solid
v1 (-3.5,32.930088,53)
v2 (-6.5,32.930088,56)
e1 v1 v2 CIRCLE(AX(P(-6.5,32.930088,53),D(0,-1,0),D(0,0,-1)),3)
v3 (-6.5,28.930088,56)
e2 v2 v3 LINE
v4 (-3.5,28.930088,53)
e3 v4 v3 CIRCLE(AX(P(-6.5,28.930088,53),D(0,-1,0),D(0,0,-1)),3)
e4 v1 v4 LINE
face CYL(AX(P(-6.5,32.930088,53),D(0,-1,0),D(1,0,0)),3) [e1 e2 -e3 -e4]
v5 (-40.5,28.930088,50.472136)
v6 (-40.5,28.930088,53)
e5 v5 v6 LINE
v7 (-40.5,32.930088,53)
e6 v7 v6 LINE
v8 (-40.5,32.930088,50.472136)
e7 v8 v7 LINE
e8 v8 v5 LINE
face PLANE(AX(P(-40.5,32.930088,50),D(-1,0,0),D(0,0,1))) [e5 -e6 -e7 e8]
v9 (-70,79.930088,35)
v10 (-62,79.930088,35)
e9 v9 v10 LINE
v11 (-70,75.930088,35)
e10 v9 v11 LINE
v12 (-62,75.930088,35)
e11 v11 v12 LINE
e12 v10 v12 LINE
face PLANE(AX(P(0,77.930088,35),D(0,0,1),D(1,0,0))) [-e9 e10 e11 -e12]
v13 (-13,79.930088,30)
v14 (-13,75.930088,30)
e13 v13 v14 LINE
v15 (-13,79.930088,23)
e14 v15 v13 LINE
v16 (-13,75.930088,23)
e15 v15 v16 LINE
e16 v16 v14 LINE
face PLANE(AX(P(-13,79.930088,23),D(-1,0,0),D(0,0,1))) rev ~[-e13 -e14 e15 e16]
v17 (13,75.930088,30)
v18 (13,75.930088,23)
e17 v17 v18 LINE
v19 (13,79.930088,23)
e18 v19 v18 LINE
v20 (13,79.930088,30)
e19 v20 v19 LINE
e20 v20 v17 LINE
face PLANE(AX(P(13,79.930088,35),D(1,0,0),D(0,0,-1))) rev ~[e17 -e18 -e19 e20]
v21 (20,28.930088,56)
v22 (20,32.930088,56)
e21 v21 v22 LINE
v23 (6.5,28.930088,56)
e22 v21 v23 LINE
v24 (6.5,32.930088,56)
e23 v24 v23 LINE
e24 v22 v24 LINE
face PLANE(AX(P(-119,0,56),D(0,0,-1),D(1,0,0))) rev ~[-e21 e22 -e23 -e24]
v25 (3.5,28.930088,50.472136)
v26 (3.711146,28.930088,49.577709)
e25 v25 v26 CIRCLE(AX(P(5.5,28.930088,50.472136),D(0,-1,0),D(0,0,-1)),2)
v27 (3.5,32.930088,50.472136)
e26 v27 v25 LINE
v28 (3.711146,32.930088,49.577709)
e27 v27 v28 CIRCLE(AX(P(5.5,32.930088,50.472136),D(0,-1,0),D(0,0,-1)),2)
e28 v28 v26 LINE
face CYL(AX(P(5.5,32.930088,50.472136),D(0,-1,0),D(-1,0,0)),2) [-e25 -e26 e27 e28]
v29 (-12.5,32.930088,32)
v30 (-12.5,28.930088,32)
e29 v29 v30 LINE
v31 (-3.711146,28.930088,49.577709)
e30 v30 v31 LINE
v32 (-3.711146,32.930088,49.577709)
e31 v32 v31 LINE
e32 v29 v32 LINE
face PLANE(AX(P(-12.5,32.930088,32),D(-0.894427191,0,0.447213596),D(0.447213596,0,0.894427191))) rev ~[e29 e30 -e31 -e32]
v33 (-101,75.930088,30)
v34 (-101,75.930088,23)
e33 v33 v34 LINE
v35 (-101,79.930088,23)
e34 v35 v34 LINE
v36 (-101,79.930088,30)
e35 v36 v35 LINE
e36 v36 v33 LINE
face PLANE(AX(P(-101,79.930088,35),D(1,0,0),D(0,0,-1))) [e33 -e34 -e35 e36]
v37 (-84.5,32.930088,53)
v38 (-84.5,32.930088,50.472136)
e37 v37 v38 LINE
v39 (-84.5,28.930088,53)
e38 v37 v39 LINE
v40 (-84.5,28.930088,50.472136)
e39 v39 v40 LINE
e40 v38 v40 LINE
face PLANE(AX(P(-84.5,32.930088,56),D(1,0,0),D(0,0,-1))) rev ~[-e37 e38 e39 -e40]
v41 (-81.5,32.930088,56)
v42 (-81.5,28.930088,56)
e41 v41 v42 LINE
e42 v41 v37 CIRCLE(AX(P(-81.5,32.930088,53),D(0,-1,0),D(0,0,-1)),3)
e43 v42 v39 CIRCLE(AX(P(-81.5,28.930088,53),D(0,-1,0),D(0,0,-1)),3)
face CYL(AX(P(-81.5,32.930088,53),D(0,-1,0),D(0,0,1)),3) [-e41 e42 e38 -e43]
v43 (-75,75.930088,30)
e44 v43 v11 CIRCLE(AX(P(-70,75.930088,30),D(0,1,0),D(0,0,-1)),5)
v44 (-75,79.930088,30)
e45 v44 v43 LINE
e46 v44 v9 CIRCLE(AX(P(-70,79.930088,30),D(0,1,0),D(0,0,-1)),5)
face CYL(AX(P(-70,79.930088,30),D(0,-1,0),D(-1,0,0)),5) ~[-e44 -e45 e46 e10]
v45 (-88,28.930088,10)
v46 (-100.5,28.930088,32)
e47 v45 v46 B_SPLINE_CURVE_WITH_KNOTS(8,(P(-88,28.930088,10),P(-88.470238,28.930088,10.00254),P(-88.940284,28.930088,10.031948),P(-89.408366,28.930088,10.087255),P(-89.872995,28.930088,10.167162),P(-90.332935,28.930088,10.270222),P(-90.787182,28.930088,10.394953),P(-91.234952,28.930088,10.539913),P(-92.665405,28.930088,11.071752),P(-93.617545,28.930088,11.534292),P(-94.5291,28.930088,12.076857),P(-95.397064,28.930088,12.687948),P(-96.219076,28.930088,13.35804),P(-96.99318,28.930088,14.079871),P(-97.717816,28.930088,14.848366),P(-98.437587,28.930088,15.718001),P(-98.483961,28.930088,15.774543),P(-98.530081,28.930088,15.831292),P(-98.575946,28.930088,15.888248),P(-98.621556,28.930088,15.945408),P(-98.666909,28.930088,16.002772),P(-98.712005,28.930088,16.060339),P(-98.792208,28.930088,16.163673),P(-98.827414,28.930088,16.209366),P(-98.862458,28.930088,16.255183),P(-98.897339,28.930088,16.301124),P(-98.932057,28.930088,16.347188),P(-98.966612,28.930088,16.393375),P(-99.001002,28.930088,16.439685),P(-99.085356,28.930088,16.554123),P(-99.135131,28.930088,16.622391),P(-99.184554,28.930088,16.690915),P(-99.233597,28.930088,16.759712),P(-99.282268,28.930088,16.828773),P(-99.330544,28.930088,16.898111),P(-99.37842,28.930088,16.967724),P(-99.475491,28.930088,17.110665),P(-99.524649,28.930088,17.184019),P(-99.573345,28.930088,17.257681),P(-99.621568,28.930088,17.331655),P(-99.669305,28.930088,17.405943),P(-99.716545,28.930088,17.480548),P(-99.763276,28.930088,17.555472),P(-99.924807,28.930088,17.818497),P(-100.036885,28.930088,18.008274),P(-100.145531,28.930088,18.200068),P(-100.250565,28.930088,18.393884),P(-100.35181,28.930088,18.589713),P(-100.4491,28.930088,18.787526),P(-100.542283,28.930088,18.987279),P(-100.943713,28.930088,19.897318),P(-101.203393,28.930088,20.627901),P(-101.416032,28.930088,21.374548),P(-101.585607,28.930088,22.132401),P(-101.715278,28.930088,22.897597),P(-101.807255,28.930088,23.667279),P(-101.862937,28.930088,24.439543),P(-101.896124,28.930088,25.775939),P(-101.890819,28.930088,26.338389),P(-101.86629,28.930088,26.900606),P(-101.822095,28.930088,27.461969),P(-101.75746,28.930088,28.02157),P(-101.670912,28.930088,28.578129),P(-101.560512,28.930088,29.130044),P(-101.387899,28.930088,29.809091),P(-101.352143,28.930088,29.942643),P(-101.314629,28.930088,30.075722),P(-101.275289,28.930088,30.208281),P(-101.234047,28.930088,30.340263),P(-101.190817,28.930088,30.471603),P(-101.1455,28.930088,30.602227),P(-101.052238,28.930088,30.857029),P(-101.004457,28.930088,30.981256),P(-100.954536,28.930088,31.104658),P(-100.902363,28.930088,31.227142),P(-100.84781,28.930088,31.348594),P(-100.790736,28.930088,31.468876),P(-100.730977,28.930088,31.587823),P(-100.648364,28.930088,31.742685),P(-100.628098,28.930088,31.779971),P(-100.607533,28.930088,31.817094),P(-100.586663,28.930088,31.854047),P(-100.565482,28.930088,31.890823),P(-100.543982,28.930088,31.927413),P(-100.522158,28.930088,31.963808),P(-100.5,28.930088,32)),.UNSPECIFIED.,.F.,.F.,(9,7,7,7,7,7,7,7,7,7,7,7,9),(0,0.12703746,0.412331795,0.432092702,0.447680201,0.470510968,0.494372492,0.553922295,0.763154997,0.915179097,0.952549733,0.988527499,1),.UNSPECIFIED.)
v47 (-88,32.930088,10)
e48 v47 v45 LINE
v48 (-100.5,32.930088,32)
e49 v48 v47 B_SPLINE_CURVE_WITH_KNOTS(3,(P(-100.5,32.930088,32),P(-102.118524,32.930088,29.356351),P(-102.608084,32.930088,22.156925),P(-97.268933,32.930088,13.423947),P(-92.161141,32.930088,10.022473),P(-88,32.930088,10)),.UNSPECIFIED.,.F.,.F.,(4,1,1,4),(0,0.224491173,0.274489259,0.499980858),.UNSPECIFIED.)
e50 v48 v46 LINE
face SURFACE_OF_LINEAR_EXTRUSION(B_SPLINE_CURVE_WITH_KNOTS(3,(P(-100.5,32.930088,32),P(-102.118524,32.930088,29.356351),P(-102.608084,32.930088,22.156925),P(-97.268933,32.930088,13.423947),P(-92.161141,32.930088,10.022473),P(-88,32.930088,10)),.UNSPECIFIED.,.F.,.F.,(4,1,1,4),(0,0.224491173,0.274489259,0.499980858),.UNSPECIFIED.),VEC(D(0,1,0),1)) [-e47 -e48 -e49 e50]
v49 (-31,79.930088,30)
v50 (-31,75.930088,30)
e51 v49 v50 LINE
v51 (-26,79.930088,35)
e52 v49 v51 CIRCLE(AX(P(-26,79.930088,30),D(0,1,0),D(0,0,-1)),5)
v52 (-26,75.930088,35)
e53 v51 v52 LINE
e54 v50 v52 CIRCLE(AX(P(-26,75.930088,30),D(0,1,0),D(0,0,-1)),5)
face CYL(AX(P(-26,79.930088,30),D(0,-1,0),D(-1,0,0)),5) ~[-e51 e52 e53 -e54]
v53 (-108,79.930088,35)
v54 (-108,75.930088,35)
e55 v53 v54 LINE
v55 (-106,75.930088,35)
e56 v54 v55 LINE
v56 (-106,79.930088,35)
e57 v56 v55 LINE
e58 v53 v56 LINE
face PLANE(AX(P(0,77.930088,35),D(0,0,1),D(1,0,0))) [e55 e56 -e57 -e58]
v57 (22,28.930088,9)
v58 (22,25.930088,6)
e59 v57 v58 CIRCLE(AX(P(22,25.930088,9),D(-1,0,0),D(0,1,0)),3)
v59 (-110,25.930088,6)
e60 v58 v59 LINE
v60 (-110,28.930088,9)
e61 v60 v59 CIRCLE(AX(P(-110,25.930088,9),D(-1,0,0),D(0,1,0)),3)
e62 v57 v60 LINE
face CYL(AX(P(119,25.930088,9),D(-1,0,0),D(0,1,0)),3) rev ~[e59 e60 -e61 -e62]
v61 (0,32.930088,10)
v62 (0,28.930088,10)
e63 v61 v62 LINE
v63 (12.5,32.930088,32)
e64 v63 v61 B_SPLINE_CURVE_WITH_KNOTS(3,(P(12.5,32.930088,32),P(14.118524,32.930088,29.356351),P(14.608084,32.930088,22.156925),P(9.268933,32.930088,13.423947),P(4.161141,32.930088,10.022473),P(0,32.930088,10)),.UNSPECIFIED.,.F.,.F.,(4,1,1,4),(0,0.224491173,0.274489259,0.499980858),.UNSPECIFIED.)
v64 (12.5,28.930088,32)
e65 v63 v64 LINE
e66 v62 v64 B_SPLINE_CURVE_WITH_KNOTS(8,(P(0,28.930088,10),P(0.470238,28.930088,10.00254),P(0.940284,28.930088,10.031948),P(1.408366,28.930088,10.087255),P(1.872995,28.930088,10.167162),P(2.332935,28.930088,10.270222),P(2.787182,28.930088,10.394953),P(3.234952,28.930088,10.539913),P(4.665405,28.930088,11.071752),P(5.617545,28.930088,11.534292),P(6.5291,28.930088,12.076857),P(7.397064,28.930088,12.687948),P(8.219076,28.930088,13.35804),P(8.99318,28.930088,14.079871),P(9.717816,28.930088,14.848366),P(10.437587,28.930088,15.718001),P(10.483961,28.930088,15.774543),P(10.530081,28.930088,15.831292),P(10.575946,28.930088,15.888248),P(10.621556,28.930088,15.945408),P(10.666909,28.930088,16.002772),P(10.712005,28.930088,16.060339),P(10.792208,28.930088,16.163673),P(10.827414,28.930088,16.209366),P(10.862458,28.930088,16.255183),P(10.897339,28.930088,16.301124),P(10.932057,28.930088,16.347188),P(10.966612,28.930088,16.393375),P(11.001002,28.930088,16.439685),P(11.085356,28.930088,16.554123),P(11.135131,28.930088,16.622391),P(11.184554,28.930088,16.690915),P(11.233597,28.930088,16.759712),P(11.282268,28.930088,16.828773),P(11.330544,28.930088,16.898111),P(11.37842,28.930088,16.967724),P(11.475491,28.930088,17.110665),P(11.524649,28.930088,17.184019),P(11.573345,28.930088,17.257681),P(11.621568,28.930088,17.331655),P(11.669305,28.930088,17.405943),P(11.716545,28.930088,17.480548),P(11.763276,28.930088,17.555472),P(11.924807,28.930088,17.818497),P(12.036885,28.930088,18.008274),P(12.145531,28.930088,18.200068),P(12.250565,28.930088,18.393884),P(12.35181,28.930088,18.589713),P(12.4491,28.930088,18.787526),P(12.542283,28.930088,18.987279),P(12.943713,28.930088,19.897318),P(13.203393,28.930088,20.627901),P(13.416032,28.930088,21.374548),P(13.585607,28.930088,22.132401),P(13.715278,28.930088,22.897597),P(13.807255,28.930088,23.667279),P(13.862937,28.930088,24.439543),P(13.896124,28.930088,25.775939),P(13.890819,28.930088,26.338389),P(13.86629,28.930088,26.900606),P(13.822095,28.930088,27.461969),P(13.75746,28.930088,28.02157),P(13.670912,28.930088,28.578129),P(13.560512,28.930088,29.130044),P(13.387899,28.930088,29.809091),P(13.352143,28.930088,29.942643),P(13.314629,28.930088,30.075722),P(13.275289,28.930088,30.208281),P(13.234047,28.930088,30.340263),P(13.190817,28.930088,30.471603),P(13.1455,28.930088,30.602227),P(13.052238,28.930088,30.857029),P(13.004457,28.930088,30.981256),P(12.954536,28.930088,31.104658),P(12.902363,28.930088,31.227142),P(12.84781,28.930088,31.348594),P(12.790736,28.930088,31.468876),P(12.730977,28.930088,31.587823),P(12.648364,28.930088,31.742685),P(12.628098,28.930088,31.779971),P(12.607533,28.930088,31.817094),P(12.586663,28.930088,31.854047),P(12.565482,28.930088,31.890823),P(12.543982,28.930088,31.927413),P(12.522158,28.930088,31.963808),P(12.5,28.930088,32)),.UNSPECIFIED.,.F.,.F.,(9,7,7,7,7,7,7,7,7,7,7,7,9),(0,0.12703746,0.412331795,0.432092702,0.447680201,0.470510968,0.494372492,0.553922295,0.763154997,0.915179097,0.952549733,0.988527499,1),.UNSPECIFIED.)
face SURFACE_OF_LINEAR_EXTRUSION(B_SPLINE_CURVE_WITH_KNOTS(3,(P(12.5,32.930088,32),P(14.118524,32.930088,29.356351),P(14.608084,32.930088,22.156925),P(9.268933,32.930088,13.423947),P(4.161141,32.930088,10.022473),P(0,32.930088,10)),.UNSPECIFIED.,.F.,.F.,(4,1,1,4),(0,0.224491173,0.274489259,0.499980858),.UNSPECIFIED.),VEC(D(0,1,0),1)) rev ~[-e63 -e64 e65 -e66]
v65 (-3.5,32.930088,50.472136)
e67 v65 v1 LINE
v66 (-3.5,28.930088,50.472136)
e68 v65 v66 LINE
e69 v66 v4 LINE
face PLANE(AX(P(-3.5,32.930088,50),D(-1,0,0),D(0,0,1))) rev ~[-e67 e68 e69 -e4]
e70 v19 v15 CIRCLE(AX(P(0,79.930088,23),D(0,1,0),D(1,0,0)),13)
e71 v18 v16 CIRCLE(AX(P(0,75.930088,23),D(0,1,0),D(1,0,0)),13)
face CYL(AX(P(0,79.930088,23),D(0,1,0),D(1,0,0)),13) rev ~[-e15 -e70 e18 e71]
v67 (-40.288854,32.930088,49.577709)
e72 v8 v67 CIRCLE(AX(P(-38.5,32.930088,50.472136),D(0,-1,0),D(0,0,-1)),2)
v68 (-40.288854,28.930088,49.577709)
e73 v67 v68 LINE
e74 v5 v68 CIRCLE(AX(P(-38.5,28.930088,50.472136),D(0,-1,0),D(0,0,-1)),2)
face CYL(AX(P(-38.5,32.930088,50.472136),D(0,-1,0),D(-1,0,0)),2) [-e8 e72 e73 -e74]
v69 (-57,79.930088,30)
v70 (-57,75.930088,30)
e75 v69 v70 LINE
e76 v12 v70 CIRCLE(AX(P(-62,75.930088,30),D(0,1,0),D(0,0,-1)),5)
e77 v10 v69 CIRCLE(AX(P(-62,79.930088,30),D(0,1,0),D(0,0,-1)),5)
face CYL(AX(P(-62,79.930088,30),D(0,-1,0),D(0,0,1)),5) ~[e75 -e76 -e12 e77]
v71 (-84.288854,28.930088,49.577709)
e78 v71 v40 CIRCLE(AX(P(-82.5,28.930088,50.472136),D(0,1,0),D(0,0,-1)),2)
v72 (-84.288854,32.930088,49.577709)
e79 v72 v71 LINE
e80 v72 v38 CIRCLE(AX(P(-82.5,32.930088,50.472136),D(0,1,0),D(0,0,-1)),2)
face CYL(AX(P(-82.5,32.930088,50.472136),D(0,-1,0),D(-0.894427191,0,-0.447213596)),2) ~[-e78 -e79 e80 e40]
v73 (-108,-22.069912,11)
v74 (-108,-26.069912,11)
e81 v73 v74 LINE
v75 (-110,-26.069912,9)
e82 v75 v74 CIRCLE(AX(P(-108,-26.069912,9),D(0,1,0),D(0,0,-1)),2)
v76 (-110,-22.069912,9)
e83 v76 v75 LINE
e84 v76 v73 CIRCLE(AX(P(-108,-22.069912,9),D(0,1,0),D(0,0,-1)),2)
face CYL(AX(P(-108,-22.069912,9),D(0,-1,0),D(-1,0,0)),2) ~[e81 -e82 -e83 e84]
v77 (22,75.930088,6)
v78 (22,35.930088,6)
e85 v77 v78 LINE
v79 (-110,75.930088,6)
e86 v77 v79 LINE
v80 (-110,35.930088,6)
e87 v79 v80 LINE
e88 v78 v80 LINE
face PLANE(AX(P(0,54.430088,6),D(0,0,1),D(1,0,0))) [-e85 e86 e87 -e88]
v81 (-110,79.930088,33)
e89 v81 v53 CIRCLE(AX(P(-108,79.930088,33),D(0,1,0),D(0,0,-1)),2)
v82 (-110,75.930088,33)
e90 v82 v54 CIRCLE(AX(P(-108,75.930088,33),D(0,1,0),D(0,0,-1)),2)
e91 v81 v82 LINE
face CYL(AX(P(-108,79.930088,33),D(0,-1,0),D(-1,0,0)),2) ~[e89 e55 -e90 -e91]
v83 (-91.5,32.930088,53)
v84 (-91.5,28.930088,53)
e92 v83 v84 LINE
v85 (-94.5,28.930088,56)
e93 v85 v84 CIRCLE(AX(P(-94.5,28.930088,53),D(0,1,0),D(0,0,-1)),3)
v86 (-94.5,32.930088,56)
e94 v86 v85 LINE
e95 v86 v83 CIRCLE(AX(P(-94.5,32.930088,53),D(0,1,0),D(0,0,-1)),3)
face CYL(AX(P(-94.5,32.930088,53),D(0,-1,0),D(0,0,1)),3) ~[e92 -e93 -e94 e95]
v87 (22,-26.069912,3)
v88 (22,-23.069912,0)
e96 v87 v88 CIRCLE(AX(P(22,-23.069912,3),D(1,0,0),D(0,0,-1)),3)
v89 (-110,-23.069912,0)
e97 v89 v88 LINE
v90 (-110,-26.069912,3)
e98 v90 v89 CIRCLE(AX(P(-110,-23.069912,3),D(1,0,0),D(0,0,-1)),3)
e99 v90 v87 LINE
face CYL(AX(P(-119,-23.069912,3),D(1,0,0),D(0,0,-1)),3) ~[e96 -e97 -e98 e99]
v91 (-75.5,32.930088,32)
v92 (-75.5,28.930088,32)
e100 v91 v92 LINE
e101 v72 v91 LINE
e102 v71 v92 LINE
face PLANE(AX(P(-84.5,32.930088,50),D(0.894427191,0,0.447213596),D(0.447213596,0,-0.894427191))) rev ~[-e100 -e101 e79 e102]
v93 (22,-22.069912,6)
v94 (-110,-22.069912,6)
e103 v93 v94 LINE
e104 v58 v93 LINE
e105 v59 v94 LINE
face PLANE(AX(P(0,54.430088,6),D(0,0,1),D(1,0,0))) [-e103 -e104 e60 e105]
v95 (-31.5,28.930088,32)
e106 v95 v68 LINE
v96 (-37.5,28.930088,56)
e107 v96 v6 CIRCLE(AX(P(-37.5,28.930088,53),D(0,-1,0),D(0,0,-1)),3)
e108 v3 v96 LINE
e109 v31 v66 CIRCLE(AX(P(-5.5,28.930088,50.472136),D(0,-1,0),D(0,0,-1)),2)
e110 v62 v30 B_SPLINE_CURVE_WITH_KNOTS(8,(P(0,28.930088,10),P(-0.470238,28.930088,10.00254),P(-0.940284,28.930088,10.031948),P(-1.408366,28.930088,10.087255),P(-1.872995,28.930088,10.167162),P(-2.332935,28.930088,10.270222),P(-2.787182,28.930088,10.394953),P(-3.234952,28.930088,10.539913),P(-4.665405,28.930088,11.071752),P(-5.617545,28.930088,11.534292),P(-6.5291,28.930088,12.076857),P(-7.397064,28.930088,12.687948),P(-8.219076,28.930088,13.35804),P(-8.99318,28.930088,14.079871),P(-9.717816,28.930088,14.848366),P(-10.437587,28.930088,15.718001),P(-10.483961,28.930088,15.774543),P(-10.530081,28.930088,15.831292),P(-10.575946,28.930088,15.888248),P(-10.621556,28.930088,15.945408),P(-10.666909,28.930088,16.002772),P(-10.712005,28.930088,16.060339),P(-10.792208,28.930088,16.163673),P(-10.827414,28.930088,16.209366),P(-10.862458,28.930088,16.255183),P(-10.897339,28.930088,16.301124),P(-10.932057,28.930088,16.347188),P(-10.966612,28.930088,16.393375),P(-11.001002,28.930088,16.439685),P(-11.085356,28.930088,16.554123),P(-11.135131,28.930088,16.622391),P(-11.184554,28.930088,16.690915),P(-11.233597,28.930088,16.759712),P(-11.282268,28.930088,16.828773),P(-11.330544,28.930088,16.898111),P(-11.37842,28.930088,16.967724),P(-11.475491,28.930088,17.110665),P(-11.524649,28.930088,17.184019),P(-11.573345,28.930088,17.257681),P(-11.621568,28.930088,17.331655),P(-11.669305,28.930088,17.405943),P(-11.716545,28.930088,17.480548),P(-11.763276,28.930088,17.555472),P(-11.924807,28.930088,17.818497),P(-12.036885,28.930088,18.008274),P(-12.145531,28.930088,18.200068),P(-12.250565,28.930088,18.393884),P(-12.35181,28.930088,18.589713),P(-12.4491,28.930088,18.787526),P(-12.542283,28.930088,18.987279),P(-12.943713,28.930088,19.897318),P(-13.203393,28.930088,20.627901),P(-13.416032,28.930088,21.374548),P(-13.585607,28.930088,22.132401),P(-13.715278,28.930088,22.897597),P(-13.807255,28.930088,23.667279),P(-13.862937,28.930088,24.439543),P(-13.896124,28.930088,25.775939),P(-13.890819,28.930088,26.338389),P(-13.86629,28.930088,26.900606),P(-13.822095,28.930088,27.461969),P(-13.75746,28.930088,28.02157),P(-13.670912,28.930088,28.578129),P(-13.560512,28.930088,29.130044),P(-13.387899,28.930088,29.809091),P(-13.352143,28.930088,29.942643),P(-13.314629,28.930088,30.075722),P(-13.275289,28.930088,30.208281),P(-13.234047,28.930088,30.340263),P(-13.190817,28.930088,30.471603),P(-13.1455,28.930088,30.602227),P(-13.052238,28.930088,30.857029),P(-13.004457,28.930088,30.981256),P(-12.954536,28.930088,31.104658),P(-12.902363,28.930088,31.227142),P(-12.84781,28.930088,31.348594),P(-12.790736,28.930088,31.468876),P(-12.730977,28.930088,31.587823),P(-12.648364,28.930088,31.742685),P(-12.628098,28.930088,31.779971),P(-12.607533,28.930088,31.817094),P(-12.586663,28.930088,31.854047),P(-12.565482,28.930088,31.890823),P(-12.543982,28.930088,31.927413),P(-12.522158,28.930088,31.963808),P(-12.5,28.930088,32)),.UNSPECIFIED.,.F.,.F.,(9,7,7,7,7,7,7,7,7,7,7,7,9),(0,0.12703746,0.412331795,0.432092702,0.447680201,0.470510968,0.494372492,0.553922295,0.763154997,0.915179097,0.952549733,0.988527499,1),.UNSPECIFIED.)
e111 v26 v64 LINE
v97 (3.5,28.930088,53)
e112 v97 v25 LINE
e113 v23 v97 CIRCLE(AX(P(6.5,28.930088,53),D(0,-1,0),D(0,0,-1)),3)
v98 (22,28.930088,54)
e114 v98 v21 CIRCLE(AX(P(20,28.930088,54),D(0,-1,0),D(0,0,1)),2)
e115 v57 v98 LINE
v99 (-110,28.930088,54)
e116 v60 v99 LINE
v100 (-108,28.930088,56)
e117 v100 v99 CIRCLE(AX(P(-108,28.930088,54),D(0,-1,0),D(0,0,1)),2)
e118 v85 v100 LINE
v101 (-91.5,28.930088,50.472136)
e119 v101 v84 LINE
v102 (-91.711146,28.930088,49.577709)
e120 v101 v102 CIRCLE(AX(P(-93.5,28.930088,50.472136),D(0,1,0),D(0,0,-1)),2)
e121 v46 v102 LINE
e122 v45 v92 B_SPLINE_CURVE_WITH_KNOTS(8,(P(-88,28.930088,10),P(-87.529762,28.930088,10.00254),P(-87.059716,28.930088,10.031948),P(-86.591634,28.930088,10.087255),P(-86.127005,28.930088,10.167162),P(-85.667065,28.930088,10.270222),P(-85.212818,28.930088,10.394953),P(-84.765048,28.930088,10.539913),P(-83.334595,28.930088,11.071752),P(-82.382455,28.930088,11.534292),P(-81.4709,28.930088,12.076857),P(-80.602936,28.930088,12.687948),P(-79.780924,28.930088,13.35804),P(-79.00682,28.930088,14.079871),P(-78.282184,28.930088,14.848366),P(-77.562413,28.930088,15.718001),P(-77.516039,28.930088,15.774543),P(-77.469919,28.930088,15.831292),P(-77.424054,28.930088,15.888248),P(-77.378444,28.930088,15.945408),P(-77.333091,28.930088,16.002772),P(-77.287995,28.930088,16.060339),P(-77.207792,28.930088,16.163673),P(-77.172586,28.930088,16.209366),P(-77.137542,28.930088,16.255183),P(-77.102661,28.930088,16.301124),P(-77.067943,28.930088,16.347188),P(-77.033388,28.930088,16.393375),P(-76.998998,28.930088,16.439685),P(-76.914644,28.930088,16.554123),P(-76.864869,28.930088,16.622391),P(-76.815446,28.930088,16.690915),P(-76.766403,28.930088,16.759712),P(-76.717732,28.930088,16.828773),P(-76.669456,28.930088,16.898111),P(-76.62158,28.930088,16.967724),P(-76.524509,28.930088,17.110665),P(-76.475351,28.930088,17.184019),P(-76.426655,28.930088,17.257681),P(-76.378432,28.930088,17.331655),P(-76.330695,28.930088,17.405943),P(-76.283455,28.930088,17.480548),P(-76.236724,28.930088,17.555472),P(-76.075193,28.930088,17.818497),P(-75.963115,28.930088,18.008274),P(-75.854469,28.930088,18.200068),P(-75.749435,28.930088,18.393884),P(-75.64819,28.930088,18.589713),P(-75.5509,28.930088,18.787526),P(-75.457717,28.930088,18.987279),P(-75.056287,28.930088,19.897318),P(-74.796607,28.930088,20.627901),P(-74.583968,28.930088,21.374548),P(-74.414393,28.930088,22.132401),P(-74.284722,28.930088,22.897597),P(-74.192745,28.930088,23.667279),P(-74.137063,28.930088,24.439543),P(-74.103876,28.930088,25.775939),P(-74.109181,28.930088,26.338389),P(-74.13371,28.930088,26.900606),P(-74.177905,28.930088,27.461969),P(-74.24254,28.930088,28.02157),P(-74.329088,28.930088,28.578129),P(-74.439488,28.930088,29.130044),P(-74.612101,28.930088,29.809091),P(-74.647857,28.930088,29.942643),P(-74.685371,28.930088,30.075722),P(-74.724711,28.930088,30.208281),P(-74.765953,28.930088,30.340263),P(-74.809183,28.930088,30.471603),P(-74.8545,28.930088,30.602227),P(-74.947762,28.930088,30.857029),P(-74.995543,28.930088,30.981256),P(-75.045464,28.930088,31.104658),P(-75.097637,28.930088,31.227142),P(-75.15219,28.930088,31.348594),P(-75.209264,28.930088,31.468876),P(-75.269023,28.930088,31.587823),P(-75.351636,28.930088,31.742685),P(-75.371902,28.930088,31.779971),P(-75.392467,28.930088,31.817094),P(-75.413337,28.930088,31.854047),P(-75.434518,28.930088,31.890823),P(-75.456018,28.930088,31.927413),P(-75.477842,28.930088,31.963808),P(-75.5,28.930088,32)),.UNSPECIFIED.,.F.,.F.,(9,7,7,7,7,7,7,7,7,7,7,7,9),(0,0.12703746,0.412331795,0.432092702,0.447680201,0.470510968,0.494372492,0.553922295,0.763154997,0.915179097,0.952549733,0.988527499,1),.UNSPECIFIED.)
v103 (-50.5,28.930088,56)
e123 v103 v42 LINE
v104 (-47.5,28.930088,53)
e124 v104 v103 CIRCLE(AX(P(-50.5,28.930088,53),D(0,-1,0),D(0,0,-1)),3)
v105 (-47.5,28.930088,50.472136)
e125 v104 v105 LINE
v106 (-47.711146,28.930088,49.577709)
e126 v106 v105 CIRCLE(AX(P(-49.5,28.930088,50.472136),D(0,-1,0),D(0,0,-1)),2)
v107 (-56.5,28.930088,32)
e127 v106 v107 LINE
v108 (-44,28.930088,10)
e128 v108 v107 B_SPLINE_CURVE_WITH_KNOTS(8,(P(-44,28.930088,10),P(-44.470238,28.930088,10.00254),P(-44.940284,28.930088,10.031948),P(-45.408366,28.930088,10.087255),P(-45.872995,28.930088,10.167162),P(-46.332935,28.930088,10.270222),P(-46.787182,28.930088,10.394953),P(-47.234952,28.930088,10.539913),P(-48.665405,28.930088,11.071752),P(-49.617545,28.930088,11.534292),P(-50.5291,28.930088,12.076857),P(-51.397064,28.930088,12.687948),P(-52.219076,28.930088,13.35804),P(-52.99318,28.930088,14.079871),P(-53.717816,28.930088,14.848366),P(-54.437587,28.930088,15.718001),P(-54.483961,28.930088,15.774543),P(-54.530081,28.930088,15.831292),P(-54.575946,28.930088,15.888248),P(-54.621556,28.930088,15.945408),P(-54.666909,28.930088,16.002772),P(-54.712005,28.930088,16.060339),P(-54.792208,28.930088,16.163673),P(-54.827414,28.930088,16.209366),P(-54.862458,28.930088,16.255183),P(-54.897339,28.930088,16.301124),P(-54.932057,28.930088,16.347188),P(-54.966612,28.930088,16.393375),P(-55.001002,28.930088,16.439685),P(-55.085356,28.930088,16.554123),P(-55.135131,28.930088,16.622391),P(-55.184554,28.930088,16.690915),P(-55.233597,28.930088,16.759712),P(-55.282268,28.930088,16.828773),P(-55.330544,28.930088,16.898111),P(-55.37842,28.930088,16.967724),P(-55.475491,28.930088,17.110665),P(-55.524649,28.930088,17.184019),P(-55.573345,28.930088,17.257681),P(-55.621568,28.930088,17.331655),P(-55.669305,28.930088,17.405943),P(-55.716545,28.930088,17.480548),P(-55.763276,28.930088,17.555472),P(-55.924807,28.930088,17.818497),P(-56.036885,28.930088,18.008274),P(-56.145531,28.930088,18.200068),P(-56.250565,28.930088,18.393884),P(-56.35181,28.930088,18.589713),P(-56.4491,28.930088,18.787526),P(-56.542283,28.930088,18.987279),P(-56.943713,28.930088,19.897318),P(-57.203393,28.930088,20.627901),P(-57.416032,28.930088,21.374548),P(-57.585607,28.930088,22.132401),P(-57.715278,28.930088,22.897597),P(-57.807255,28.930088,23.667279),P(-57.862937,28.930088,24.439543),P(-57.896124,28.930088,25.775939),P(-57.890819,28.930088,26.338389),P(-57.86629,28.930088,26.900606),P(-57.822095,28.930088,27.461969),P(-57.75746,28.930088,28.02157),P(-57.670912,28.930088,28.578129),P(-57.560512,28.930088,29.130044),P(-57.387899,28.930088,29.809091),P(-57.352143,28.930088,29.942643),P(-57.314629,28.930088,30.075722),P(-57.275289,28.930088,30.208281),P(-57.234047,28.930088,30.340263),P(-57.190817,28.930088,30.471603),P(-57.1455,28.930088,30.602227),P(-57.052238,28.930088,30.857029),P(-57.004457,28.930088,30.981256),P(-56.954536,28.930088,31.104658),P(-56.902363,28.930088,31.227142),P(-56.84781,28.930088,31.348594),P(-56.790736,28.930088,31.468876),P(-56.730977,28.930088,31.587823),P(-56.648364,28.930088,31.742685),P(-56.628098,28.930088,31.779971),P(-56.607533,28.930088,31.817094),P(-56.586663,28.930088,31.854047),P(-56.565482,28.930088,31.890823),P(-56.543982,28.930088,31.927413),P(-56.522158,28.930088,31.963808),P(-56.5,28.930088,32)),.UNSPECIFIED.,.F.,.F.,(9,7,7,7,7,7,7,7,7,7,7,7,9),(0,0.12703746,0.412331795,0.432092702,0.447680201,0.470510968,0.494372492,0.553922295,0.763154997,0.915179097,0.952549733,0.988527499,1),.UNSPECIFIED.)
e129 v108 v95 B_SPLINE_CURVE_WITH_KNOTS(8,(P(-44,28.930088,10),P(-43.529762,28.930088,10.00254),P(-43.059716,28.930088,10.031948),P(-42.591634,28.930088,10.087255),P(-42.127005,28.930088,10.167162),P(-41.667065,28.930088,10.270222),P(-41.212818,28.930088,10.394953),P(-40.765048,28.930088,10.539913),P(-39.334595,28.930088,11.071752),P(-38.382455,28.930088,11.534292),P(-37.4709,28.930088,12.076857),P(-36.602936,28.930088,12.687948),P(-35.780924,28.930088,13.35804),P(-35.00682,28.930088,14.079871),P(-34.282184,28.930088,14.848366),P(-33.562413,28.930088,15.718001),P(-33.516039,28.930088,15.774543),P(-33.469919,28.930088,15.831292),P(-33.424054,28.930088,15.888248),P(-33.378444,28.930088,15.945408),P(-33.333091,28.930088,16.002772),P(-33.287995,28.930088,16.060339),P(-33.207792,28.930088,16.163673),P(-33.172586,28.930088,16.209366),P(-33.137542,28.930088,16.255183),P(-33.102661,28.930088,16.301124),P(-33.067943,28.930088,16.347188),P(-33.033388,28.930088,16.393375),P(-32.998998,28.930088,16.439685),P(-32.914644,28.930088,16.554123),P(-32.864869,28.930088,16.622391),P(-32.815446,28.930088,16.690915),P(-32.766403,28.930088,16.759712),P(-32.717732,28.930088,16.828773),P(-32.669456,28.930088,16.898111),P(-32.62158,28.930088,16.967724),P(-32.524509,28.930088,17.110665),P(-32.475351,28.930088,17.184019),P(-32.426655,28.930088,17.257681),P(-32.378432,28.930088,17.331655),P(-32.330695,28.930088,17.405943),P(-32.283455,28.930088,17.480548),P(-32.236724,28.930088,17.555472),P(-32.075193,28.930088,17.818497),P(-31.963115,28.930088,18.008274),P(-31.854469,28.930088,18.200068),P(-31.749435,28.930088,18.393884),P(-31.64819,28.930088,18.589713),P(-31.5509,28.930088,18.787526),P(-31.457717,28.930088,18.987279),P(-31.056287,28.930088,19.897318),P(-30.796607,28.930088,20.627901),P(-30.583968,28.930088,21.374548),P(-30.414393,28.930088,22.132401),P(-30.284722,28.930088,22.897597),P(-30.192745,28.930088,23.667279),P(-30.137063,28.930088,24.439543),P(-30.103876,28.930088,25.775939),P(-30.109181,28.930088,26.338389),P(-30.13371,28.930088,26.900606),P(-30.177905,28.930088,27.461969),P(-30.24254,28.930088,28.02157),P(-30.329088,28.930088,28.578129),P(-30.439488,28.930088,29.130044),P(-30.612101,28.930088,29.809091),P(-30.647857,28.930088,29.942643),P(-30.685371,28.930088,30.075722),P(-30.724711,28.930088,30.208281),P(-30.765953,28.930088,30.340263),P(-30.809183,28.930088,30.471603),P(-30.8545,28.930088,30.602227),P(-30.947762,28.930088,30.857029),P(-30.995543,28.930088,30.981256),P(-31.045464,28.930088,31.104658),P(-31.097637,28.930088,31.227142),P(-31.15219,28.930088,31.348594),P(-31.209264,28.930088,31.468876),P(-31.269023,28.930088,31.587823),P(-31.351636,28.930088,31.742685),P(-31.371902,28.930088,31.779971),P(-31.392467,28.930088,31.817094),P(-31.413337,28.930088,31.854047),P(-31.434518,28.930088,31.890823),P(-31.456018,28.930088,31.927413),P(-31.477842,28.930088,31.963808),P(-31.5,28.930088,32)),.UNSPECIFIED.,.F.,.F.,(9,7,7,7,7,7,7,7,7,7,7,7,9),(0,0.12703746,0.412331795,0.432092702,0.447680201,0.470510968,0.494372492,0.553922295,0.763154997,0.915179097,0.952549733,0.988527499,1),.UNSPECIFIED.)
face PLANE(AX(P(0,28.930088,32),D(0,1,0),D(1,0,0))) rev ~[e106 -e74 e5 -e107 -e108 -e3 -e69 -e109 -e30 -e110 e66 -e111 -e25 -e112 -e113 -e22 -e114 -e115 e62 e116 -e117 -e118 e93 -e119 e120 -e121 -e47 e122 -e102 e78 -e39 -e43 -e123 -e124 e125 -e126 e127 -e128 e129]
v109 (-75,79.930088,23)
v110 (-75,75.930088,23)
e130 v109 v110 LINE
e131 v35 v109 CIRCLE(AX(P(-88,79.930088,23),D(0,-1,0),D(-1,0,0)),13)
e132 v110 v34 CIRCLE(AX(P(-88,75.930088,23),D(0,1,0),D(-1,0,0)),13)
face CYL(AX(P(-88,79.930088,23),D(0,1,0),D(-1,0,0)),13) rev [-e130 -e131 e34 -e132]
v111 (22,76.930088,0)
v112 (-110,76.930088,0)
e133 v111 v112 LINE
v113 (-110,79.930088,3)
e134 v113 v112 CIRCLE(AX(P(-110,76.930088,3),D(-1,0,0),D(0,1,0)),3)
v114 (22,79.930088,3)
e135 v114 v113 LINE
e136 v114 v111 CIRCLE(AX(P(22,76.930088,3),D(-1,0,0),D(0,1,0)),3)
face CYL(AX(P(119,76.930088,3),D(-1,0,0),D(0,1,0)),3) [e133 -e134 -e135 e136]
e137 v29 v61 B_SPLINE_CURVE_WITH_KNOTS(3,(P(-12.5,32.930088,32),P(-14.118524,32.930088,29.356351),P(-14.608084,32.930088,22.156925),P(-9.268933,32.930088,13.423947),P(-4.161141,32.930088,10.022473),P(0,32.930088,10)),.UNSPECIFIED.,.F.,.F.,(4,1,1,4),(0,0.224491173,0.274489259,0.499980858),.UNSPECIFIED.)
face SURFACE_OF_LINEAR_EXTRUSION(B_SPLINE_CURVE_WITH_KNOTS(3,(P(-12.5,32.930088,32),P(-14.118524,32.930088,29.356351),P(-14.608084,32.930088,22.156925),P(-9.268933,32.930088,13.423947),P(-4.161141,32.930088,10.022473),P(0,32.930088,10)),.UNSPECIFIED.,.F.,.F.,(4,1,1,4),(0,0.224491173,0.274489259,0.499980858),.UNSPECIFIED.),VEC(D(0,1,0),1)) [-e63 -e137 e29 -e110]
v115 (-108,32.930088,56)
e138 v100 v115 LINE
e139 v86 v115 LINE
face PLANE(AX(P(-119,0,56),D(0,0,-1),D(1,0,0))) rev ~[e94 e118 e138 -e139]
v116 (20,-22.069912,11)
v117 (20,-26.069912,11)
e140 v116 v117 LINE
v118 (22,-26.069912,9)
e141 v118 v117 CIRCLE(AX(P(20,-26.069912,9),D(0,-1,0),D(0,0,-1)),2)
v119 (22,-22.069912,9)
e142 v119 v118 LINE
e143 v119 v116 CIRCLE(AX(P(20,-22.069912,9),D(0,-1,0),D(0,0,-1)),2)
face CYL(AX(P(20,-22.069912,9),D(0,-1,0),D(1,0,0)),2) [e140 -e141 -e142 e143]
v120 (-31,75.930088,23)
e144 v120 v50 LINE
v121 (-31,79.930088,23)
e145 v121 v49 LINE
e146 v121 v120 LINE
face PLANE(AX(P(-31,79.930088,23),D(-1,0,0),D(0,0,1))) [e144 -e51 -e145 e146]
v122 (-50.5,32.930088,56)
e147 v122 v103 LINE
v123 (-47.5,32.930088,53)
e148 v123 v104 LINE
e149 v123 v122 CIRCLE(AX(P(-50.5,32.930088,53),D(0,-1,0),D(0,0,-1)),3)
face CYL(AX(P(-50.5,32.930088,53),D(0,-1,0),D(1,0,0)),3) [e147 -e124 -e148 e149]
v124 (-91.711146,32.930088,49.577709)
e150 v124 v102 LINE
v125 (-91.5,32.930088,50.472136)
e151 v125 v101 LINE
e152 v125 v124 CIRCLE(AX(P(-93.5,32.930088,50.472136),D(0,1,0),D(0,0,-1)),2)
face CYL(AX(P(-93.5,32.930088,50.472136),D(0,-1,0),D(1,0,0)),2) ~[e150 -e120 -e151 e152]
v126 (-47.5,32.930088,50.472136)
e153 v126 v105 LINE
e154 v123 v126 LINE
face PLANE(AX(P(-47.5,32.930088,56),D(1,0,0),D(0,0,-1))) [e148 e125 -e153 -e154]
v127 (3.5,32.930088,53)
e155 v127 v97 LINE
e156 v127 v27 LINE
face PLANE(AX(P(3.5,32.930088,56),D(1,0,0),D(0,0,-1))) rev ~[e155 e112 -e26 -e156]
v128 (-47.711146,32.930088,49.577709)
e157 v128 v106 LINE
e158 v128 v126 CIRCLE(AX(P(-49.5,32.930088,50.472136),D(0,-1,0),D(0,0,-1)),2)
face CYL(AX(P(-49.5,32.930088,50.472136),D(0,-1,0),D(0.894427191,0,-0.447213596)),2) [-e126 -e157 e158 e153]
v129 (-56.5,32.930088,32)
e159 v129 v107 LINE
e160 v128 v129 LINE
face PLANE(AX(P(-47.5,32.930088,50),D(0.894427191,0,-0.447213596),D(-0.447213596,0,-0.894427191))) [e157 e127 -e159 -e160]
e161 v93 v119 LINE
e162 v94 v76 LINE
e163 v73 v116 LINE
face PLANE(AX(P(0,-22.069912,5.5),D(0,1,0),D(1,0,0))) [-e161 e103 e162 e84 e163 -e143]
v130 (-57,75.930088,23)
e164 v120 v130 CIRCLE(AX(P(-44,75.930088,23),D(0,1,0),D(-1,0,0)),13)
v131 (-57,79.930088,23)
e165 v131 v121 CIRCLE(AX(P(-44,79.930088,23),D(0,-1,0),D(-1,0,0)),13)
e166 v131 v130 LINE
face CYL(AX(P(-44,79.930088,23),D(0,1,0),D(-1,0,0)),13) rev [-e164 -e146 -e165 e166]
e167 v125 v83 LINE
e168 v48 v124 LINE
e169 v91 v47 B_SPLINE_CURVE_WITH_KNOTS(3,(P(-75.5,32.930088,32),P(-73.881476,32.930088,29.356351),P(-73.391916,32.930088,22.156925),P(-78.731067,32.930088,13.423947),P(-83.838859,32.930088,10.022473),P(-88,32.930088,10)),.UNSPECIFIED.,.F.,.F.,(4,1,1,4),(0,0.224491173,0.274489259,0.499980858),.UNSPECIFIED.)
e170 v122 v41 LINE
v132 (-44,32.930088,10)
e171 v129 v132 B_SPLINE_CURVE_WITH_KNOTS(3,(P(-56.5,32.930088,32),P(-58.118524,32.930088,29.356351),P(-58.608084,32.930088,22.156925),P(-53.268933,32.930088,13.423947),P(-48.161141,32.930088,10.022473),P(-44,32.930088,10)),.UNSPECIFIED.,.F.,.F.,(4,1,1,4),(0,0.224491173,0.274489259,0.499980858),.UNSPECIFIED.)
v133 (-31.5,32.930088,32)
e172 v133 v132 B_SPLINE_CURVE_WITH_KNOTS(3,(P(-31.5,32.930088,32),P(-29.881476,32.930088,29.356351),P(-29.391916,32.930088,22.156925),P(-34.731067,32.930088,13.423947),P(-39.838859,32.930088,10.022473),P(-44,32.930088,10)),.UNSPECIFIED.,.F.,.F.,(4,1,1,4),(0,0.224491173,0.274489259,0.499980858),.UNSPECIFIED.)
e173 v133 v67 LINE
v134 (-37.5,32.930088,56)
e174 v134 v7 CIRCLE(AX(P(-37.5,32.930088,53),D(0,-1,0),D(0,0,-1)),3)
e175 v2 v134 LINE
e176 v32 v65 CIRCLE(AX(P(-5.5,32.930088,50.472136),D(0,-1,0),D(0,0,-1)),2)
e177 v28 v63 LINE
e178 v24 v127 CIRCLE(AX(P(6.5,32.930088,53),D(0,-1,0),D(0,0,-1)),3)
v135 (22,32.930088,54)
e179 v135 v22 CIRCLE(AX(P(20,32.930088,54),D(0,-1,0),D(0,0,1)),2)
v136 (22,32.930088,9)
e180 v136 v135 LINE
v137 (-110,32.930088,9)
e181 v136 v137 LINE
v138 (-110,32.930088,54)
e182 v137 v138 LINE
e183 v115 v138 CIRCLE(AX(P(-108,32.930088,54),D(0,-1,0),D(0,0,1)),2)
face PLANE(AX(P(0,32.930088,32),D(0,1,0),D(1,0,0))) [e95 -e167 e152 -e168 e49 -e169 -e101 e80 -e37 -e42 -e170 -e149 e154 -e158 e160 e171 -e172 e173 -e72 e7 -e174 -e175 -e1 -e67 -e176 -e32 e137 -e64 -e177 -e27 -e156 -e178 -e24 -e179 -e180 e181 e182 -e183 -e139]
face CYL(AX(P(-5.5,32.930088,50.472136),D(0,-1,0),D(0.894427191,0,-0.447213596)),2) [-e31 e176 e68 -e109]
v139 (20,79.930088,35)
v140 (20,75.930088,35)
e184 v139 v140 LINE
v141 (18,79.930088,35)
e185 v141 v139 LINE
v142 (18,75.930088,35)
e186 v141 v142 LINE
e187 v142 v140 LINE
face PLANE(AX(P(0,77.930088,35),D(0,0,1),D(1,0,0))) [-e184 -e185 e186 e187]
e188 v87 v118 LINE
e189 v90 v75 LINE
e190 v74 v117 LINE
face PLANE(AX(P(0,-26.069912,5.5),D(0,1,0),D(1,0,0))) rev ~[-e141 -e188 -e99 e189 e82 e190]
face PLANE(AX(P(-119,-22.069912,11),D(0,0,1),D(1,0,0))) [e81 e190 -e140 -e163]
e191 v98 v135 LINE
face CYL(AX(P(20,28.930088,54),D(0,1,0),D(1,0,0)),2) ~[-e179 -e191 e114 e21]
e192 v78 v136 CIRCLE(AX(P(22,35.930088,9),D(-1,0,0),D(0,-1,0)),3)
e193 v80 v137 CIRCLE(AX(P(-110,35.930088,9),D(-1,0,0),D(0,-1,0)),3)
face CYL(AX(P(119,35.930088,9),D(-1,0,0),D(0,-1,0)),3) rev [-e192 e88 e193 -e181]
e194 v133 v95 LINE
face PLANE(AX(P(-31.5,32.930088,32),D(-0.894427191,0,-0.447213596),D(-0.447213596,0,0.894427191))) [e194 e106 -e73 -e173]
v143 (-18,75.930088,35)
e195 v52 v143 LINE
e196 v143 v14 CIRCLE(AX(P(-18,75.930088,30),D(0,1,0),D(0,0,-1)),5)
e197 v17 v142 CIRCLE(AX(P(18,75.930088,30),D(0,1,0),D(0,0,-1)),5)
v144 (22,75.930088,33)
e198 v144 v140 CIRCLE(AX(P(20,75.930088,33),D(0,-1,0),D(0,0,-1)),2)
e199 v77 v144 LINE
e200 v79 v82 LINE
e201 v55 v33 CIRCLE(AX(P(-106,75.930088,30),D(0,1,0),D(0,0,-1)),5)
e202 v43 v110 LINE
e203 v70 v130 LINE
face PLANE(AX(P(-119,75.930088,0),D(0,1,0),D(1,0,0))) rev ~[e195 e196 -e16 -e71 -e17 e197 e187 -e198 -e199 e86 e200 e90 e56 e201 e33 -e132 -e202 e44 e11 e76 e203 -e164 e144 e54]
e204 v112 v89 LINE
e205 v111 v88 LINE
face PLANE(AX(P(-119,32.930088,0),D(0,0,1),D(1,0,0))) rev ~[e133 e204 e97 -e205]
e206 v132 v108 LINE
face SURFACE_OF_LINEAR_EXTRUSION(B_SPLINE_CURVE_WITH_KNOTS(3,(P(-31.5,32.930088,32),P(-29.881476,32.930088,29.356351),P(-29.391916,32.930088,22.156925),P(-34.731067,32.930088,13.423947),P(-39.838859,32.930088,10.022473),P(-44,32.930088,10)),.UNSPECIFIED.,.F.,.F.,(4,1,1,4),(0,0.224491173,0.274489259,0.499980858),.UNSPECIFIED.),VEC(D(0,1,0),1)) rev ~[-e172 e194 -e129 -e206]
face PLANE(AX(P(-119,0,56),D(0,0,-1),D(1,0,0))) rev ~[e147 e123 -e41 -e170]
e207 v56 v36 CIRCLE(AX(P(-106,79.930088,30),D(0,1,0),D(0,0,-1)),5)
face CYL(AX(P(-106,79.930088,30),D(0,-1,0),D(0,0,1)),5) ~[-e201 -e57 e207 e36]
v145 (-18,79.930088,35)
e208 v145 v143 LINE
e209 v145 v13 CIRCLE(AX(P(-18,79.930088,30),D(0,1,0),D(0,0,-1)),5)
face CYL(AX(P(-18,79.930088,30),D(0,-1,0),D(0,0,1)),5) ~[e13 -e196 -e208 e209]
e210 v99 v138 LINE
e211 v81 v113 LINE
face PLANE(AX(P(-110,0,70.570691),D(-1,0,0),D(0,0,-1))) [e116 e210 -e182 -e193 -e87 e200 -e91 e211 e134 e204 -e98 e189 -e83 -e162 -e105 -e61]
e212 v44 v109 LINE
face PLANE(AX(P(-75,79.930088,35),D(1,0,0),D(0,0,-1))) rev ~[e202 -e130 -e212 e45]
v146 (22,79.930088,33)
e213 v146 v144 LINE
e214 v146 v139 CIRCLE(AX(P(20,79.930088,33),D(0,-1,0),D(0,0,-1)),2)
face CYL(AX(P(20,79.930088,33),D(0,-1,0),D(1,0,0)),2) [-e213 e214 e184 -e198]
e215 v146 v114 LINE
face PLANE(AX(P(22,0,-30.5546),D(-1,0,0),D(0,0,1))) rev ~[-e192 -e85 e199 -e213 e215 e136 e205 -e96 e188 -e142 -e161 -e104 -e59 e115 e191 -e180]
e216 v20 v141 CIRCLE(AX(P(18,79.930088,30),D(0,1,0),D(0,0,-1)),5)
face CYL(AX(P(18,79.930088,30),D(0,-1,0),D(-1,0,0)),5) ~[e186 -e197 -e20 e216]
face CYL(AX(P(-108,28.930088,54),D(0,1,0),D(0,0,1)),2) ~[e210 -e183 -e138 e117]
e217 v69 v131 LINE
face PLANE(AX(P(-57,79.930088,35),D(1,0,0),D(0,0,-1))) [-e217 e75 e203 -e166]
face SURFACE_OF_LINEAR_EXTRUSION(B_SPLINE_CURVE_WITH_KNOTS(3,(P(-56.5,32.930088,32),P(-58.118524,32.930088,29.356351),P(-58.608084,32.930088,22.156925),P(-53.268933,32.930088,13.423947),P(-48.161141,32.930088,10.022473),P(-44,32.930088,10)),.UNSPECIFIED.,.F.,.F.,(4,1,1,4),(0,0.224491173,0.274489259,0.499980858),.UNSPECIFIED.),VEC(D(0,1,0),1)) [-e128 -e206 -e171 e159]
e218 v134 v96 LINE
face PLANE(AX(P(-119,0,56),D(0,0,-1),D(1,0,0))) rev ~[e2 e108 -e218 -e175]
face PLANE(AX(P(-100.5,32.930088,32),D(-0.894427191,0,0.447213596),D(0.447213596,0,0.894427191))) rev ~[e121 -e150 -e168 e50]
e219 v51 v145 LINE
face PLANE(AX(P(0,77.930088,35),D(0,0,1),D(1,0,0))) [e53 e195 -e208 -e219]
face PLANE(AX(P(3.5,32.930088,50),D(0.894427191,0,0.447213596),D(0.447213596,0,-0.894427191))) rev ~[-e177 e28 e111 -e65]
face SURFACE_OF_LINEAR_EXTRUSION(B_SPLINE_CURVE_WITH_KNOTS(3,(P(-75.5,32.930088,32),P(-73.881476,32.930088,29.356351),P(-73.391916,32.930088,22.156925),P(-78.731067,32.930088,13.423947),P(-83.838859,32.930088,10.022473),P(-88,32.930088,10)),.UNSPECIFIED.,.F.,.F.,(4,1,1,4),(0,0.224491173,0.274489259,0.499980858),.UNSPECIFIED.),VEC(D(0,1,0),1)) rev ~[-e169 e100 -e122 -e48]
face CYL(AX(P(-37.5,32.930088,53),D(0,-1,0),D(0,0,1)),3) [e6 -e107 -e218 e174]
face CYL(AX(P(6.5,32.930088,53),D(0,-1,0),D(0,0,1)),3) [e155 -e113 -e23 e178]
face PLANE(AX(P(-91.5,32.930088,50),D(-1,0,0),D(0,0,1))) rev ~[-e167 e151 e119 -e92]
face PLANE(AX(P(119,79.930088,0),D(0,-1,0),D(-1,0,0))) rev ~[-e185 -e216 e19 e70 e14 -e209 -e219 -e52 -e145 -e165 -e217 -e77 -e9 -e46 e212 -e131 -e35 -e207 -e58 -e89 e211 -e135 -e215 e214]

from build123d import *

# Parameters (mm, degrees)
SKETCH1_W           = 238
SKETCH1_H           = 43
SKETCH1_H_2         = 4
SKETCH1_H_3         = 51
BOSS_EXTRUDE1_DEPTH = 6
SKETCH2_W           = 238
SKETCH2_H           = 4
BOSS_EXTRUDE2_DEPTH = 35
SKETCH3_W           = 26
SKETCH3_H           = 12
CUT_EXTRUDE1_DEPTH  = 6
FILLET1_R           = 5
SKETCH4_W           = 238
SKETCH4_H           = 64
BOSS_EXTRUDE3_DEPTH = 4
SKETCH6_W           = 238
SKETCH6_H           = 11
BOSS_EXTRUDE4_DEPTH = 4
CUT_EXTRUDE2_DEPTH  = 10
SKETCH8_W           = 238
SKETCH8_H           = 8
CUT_EXTRUDE3_DEPTH  = 60
FILLET2_R           = 3
FILLET3_R           = 2
FILLET4_R           = 3
CUT_EXTRUDE4_DEPTH  = 150
FILLET5_R           = 2


with BuildPart() as part:
    # Sketch1 → Boss-Extrude1 (new body)
    with BuildSketch(Plane.XY):
        with Locations((0, 54.430088496)):
            Rectangle(SKETCH1_W, SKETCH1_H)
        Polygon((-119, 79.930088496), (-119, 75.930088496), (119, 75.930088496), (119, 79.930088496), (101, 79.930088496), (75, 79.930088496), (57.077876106, 79.930088496), (57, 79.930088496), (31, 79.930088496), (13, 79.930088496), (-13, 79.930088496), (-31, 79.930088496), (-57, 79.930088496), (-75, 79.930088496), (-101, 79.930088496), align=None)
        with Locations((0, 30.930088496)):
            Rectangle(SKETCH1_W, SKETCH1_H_2)
        with Locations((0, 3.430088496)):
            Rectangle(SKETCH1_W, SKETCH1_H_3)
        with Locations((0, -24.069911504)):
            Rectangle(SKETCH1_W, SKETCH1_H_2)
    extrude(amount=BOSS_EXTRUDE1_DEPTH)

    # Sketch2 → Boss-Extrude2 (add)
    with BuildSketch(Plane.XY):
        with Locations((0, 77.930088496)):
            Rectangle(SKETCH2_W, SKETCH2_H)
    extrude(amount=BOSS_EXTRUDE2_DEPTH)

    # Sketch3 → Cut-Extrude1 (cut)
    with BuildSketch(Plane(origin=(0, 79.930088496, 0), x_dir=(1, 0, 0), z_dir=(0, 1, 0))):
        with BuildLine():
            ThreePointArc((-101, -23), (-88, -10), (-75, -23))
            Line((-75, -23), (-101, -23))
        make_face()
        with Locations((-88, -29)):
            Rectangle(SKETCH3_W, SKETCH3_H)
        with BuildLine():
            ThreePointArc((-57, -23), (-44, -10), (-31, -23))
            Line((-31, -23), (-31, -35))
            Line((-31, -35), (-57, -35))
            Line((-57, -35), (-57, -23))
        make_face()
        with BuildLine():
            Line((13, -35), (13, -23))
            ThreePointArc((13, -23), (0, -10), (-13, -23))
            Line((-13, -23), (-13, -35))
            Line((-13, -35), (13, -35))
        make_face()
        with BuildLine():
            Line((57, -35), (57, -23))
            ThreePointArc((57, -23), (44, -10), (31, -23))
            Line((31, -23), (31, -35))
            Line((31, -35), (57, -35))
        make_face()
        with BuildLine():
            Line((101, -35), (101, -23))
            ThreePointArc((101, -23), (88, -10), (75, -23))
            Line((75, -23), (75, -35))
            Line((75, -35), (101, -35))
        make_face()
    extrude(amount=-CUT_EXTRUDE1_DEPTH, mode=Mode.SUBTRACT)

    # Fillet1
    fillet1_edges = [part.edges().sort_by_distance(p)[0] for p in [
        (-119, 77.930088496, 35),
        (119, 77.930088496, 35),
        (75, 77.930088496, 35),
        (101, 77.930088496, 35),
        (31, 77.930088496, 35),
        (57, 77.930088496, 35),
        (-13, 77.930088496, 35),
        (13, 77.930088496, 35),
        (-57, 77.930088496, 35),
        (-31, 77.930088496, 35),
        (-101, 77.930088496, 35),
        (-75, 77.930088496, 35),
    ]]
    fillet(fillet1_edges, radius=FILLET1_R)

    # Sketch4 → Boss-Extrude3 (add)
    with BuildSketch(Plane(origin=(0, 32.930088496, 0), x_dir=(1, 0, 0), z_dir=(0, 1, 0))):
        with Locations((0, -32)):
            Rectangle(SKETCH4_W, SKETCH4_H)
    extrude(amount=-BOSS_EXTRUDE3_DEPTH)

    # Sketch6 → Boss-Extrude4 (add)
    with BuildSketch(Plane(origin=(0, -22.069911504, 0), x_dir=(1, 0, 0), z_dir=(0, 1, 0))):
        with Locations((0, -5.5)):
            Rectangle(SKETCH6_W, SKETCH6_H)
    extrude(amount=-BOSS_EXTRUDE4_DEPTH)

    # Sketch5 → Cut-Extrude2 (cut)
    with BuildSketch(Plane(origin=(0, 32.930088496, 0), x_dir=(1, 0, 0), z_dir=(0, 1, 0))):
        with BuildLine():
            Line((-40.5, -50), (-40.5, -56))
            Line((-40.5, -56), (-47.5, -56))
            Line((-47.5, -56), (-47.5, -50))
            Line((-47.5, -50), (-56.5, -32))
            add(Edge.make_bspline(
                [(-56.5, -32), (-58.118524022, -29.356350797), (-58.608084098, -22.1569248), (-53.268932872, -13.423946955), (-48.161141466, -10.022473266), (-44, -10)],
                knots=[0, 0, 0, 0, 0.224491173, 0.274489259, 0.499980858, 0.499980858, 0.499980858, 0.499980858], degree=3))
            add(Edge.make_bspline(
                [(-31.5, -32), (-29.881475978, -29.356350797), (-29.391915902, -22.1569248), (-34.731067128, -13.423946955), (-39.838858534, -10.022473266), (-44, -10)],
                knots=[0, 0, 0, 0, 0.224491173, 0.274489259, 0.499980858, 0.499980858, 0.499980858, 0.499980858], degree=3))
            Line((-31.5, -32), (-40.5, -50))
        make_face()
        with BuildLine():
            Line((-84.5, -50), (-75.5, -32))
            add(Edge.make_bspline(
                [(-75.5, -32), (-73.881475978, -29.356350797), (-73.391915902, -22.1569248), (-78.731067128, -13.423946955), (-83.838858534, -10.022473266), (-88, -10)],
                knots=[0, 0, 0, 0, 0.224491173, 0.274489259, 0.499980858, 0.499980858, 0.499980858, 0.499980858], degree=3))
            add(Edge.make_bspline(
                [(-100.5, -32), (-102.118524022, -29.356350797), (-102.608084098, -22.1569248), (-97.268932872, -13.423946955), (-92.161141466, -10.022473266), (-88, -10)],
                knots=[0, 0, 0, 0, 0.224491173, 0.274489259, 0.499980858, 0.499980858, 0.499980858, 0.499980858], degree=3))
            Line((-100.5, -32), (-91.5, -50))
            Line((-91.5, -50), (-91.5, -56))
            Line((-91.5, -56), (-84.5, -56))
            Line((-84.5, -56), (-84.5, -50))
        make_face()
        with BuildLine():
            Line((3.5, -50), (12.5, -32))
            add(Edge.make_bspline(
                [(12.5, -32), (14.118524022, -29.356350797), (14.608084098, -22.1569248), (9.268932872, -13.423946955), (4.161141466, -10.022473266), (0, -10)],
                knots=[0, 0, 0, 0, 0.224491173, 0.274489259, 0.499980858, 0.499980858, 0.499980858, 0.499980858], degree=3))
            add(Edge.make_bspline(
                [(-12.5, -32), (-14.118524022, -29.356350797), (-14.608084098, -22.1569248), (-9.268932872, -13.423946955), (-4.161141466, -10.022473266), (0, -10)],
                knots=[0, 0, 0, 0, 0.224491173, 0.274489259, 0.499980858, 0.499980858, 0.499980858, 0.499980858], degree=3))
            Line((-12.5, -32), (-3.5, -50))
            Line((-3.5, -50), (-3.5, -56))
            Line((-3.5, -56), (3.5, -56))
            Line((3.5, -56), (3.5, -50))
        make_face()
    extrude(amount=-CUT_EXTRUDE2_DEPTH, mode=Mode.SUBTRACT)

    # Sketch8 → Cut-Extrude3 (cut)
    with BuildSketch(Plane(origin=(0, 0, 0), x_dir=(1, 0, 0), z_dir=(0, 1, 0))):
        with Locations((0, -60)):
            Rectangle(SKETCH8_W, SKETCH8_H)
    extrude(amount=CUT_EXTRUDE3_DEPTH, mode=Mode.SUBTRACT)

    # Fillet2
    fillet2_edges = [part.edges().sort_by_distance(p)[0] for p in [
        (-84.5, 30.930088496, 56),
        (-91.5, 30.930088496, 56),
        (3.5, 30.930088496, 56),
        (-3.5, 30.930088496, 56),
        (-40.5, 30.930088496, 56),
        (-47.5, 30.930088496, 56),
    ]]
    fillet(fillet2_edges, radius=FILLET2_R)

    # Fillet3
    fillet3_edges = [part.edges().sort_by_distance(p)[0] for p in [
        (-84.5, 30.930088496, 50),
        (-91.5, 30.930088496, 50),
        (3.5, 30.930088496, 50),
        (-3.5, 30.930088496, 50),
        (-40.5, 30.930088496, 50),
        (-47.5, 30.930088496, 50),
    ]]
    fillet(fillet3_edges, radius=FILLET3_R)

    # Fillet4
    fillet4_edges = [part.edges().sort_by_distance(p)[0] for p in [
        (0, 28.930088496, 6),
        (0, 32.930088496, 6),
        (0, -26.069911504, 0),
        (0, 79.930088496, 0),
    ]]
    fillet(fillet4_edges, radius=FILLET4_R)

    # Sketch9 → Cut-Extrude4 (cut, symmetric)
    with BuildSketch(Plane(origin=(0, 0, 0), x_dir=(1, 0, 0), z_dir=(0, 1, 0))):
        Polygon((-110, -70.570691383), (-110, -35), (-110, 17.336036992), (-146.355677451, 17.336036992), (-144.312296295, -70.570691383), align=None)
        Polygon((136.221626858, 30.554600482), (22, 30.554600482), (22, -35), (22, -79.242199879), (136.221626858, -79.242199879), align=None)
    extrude(amount=CUT_EXTRUDE4_DEPTH, both=True, mode=Mode.SUBTRACT)

    # Fillet5
    fillet5_edges = [part.edges().sort_by_distance(p)[0] for p in [
        (-110, 77.930088496, 35),
        (-110, 30.930088496, 56),
        (-110, -24.069911504, 11),
        (22, 30.930088496, 56),
        (22, -24.069911504, 11),
        (22, 77.930088496, 35),
    ]]
    fillet(fillet5_edges, radius=FILLET5_R)


solid = part.part
